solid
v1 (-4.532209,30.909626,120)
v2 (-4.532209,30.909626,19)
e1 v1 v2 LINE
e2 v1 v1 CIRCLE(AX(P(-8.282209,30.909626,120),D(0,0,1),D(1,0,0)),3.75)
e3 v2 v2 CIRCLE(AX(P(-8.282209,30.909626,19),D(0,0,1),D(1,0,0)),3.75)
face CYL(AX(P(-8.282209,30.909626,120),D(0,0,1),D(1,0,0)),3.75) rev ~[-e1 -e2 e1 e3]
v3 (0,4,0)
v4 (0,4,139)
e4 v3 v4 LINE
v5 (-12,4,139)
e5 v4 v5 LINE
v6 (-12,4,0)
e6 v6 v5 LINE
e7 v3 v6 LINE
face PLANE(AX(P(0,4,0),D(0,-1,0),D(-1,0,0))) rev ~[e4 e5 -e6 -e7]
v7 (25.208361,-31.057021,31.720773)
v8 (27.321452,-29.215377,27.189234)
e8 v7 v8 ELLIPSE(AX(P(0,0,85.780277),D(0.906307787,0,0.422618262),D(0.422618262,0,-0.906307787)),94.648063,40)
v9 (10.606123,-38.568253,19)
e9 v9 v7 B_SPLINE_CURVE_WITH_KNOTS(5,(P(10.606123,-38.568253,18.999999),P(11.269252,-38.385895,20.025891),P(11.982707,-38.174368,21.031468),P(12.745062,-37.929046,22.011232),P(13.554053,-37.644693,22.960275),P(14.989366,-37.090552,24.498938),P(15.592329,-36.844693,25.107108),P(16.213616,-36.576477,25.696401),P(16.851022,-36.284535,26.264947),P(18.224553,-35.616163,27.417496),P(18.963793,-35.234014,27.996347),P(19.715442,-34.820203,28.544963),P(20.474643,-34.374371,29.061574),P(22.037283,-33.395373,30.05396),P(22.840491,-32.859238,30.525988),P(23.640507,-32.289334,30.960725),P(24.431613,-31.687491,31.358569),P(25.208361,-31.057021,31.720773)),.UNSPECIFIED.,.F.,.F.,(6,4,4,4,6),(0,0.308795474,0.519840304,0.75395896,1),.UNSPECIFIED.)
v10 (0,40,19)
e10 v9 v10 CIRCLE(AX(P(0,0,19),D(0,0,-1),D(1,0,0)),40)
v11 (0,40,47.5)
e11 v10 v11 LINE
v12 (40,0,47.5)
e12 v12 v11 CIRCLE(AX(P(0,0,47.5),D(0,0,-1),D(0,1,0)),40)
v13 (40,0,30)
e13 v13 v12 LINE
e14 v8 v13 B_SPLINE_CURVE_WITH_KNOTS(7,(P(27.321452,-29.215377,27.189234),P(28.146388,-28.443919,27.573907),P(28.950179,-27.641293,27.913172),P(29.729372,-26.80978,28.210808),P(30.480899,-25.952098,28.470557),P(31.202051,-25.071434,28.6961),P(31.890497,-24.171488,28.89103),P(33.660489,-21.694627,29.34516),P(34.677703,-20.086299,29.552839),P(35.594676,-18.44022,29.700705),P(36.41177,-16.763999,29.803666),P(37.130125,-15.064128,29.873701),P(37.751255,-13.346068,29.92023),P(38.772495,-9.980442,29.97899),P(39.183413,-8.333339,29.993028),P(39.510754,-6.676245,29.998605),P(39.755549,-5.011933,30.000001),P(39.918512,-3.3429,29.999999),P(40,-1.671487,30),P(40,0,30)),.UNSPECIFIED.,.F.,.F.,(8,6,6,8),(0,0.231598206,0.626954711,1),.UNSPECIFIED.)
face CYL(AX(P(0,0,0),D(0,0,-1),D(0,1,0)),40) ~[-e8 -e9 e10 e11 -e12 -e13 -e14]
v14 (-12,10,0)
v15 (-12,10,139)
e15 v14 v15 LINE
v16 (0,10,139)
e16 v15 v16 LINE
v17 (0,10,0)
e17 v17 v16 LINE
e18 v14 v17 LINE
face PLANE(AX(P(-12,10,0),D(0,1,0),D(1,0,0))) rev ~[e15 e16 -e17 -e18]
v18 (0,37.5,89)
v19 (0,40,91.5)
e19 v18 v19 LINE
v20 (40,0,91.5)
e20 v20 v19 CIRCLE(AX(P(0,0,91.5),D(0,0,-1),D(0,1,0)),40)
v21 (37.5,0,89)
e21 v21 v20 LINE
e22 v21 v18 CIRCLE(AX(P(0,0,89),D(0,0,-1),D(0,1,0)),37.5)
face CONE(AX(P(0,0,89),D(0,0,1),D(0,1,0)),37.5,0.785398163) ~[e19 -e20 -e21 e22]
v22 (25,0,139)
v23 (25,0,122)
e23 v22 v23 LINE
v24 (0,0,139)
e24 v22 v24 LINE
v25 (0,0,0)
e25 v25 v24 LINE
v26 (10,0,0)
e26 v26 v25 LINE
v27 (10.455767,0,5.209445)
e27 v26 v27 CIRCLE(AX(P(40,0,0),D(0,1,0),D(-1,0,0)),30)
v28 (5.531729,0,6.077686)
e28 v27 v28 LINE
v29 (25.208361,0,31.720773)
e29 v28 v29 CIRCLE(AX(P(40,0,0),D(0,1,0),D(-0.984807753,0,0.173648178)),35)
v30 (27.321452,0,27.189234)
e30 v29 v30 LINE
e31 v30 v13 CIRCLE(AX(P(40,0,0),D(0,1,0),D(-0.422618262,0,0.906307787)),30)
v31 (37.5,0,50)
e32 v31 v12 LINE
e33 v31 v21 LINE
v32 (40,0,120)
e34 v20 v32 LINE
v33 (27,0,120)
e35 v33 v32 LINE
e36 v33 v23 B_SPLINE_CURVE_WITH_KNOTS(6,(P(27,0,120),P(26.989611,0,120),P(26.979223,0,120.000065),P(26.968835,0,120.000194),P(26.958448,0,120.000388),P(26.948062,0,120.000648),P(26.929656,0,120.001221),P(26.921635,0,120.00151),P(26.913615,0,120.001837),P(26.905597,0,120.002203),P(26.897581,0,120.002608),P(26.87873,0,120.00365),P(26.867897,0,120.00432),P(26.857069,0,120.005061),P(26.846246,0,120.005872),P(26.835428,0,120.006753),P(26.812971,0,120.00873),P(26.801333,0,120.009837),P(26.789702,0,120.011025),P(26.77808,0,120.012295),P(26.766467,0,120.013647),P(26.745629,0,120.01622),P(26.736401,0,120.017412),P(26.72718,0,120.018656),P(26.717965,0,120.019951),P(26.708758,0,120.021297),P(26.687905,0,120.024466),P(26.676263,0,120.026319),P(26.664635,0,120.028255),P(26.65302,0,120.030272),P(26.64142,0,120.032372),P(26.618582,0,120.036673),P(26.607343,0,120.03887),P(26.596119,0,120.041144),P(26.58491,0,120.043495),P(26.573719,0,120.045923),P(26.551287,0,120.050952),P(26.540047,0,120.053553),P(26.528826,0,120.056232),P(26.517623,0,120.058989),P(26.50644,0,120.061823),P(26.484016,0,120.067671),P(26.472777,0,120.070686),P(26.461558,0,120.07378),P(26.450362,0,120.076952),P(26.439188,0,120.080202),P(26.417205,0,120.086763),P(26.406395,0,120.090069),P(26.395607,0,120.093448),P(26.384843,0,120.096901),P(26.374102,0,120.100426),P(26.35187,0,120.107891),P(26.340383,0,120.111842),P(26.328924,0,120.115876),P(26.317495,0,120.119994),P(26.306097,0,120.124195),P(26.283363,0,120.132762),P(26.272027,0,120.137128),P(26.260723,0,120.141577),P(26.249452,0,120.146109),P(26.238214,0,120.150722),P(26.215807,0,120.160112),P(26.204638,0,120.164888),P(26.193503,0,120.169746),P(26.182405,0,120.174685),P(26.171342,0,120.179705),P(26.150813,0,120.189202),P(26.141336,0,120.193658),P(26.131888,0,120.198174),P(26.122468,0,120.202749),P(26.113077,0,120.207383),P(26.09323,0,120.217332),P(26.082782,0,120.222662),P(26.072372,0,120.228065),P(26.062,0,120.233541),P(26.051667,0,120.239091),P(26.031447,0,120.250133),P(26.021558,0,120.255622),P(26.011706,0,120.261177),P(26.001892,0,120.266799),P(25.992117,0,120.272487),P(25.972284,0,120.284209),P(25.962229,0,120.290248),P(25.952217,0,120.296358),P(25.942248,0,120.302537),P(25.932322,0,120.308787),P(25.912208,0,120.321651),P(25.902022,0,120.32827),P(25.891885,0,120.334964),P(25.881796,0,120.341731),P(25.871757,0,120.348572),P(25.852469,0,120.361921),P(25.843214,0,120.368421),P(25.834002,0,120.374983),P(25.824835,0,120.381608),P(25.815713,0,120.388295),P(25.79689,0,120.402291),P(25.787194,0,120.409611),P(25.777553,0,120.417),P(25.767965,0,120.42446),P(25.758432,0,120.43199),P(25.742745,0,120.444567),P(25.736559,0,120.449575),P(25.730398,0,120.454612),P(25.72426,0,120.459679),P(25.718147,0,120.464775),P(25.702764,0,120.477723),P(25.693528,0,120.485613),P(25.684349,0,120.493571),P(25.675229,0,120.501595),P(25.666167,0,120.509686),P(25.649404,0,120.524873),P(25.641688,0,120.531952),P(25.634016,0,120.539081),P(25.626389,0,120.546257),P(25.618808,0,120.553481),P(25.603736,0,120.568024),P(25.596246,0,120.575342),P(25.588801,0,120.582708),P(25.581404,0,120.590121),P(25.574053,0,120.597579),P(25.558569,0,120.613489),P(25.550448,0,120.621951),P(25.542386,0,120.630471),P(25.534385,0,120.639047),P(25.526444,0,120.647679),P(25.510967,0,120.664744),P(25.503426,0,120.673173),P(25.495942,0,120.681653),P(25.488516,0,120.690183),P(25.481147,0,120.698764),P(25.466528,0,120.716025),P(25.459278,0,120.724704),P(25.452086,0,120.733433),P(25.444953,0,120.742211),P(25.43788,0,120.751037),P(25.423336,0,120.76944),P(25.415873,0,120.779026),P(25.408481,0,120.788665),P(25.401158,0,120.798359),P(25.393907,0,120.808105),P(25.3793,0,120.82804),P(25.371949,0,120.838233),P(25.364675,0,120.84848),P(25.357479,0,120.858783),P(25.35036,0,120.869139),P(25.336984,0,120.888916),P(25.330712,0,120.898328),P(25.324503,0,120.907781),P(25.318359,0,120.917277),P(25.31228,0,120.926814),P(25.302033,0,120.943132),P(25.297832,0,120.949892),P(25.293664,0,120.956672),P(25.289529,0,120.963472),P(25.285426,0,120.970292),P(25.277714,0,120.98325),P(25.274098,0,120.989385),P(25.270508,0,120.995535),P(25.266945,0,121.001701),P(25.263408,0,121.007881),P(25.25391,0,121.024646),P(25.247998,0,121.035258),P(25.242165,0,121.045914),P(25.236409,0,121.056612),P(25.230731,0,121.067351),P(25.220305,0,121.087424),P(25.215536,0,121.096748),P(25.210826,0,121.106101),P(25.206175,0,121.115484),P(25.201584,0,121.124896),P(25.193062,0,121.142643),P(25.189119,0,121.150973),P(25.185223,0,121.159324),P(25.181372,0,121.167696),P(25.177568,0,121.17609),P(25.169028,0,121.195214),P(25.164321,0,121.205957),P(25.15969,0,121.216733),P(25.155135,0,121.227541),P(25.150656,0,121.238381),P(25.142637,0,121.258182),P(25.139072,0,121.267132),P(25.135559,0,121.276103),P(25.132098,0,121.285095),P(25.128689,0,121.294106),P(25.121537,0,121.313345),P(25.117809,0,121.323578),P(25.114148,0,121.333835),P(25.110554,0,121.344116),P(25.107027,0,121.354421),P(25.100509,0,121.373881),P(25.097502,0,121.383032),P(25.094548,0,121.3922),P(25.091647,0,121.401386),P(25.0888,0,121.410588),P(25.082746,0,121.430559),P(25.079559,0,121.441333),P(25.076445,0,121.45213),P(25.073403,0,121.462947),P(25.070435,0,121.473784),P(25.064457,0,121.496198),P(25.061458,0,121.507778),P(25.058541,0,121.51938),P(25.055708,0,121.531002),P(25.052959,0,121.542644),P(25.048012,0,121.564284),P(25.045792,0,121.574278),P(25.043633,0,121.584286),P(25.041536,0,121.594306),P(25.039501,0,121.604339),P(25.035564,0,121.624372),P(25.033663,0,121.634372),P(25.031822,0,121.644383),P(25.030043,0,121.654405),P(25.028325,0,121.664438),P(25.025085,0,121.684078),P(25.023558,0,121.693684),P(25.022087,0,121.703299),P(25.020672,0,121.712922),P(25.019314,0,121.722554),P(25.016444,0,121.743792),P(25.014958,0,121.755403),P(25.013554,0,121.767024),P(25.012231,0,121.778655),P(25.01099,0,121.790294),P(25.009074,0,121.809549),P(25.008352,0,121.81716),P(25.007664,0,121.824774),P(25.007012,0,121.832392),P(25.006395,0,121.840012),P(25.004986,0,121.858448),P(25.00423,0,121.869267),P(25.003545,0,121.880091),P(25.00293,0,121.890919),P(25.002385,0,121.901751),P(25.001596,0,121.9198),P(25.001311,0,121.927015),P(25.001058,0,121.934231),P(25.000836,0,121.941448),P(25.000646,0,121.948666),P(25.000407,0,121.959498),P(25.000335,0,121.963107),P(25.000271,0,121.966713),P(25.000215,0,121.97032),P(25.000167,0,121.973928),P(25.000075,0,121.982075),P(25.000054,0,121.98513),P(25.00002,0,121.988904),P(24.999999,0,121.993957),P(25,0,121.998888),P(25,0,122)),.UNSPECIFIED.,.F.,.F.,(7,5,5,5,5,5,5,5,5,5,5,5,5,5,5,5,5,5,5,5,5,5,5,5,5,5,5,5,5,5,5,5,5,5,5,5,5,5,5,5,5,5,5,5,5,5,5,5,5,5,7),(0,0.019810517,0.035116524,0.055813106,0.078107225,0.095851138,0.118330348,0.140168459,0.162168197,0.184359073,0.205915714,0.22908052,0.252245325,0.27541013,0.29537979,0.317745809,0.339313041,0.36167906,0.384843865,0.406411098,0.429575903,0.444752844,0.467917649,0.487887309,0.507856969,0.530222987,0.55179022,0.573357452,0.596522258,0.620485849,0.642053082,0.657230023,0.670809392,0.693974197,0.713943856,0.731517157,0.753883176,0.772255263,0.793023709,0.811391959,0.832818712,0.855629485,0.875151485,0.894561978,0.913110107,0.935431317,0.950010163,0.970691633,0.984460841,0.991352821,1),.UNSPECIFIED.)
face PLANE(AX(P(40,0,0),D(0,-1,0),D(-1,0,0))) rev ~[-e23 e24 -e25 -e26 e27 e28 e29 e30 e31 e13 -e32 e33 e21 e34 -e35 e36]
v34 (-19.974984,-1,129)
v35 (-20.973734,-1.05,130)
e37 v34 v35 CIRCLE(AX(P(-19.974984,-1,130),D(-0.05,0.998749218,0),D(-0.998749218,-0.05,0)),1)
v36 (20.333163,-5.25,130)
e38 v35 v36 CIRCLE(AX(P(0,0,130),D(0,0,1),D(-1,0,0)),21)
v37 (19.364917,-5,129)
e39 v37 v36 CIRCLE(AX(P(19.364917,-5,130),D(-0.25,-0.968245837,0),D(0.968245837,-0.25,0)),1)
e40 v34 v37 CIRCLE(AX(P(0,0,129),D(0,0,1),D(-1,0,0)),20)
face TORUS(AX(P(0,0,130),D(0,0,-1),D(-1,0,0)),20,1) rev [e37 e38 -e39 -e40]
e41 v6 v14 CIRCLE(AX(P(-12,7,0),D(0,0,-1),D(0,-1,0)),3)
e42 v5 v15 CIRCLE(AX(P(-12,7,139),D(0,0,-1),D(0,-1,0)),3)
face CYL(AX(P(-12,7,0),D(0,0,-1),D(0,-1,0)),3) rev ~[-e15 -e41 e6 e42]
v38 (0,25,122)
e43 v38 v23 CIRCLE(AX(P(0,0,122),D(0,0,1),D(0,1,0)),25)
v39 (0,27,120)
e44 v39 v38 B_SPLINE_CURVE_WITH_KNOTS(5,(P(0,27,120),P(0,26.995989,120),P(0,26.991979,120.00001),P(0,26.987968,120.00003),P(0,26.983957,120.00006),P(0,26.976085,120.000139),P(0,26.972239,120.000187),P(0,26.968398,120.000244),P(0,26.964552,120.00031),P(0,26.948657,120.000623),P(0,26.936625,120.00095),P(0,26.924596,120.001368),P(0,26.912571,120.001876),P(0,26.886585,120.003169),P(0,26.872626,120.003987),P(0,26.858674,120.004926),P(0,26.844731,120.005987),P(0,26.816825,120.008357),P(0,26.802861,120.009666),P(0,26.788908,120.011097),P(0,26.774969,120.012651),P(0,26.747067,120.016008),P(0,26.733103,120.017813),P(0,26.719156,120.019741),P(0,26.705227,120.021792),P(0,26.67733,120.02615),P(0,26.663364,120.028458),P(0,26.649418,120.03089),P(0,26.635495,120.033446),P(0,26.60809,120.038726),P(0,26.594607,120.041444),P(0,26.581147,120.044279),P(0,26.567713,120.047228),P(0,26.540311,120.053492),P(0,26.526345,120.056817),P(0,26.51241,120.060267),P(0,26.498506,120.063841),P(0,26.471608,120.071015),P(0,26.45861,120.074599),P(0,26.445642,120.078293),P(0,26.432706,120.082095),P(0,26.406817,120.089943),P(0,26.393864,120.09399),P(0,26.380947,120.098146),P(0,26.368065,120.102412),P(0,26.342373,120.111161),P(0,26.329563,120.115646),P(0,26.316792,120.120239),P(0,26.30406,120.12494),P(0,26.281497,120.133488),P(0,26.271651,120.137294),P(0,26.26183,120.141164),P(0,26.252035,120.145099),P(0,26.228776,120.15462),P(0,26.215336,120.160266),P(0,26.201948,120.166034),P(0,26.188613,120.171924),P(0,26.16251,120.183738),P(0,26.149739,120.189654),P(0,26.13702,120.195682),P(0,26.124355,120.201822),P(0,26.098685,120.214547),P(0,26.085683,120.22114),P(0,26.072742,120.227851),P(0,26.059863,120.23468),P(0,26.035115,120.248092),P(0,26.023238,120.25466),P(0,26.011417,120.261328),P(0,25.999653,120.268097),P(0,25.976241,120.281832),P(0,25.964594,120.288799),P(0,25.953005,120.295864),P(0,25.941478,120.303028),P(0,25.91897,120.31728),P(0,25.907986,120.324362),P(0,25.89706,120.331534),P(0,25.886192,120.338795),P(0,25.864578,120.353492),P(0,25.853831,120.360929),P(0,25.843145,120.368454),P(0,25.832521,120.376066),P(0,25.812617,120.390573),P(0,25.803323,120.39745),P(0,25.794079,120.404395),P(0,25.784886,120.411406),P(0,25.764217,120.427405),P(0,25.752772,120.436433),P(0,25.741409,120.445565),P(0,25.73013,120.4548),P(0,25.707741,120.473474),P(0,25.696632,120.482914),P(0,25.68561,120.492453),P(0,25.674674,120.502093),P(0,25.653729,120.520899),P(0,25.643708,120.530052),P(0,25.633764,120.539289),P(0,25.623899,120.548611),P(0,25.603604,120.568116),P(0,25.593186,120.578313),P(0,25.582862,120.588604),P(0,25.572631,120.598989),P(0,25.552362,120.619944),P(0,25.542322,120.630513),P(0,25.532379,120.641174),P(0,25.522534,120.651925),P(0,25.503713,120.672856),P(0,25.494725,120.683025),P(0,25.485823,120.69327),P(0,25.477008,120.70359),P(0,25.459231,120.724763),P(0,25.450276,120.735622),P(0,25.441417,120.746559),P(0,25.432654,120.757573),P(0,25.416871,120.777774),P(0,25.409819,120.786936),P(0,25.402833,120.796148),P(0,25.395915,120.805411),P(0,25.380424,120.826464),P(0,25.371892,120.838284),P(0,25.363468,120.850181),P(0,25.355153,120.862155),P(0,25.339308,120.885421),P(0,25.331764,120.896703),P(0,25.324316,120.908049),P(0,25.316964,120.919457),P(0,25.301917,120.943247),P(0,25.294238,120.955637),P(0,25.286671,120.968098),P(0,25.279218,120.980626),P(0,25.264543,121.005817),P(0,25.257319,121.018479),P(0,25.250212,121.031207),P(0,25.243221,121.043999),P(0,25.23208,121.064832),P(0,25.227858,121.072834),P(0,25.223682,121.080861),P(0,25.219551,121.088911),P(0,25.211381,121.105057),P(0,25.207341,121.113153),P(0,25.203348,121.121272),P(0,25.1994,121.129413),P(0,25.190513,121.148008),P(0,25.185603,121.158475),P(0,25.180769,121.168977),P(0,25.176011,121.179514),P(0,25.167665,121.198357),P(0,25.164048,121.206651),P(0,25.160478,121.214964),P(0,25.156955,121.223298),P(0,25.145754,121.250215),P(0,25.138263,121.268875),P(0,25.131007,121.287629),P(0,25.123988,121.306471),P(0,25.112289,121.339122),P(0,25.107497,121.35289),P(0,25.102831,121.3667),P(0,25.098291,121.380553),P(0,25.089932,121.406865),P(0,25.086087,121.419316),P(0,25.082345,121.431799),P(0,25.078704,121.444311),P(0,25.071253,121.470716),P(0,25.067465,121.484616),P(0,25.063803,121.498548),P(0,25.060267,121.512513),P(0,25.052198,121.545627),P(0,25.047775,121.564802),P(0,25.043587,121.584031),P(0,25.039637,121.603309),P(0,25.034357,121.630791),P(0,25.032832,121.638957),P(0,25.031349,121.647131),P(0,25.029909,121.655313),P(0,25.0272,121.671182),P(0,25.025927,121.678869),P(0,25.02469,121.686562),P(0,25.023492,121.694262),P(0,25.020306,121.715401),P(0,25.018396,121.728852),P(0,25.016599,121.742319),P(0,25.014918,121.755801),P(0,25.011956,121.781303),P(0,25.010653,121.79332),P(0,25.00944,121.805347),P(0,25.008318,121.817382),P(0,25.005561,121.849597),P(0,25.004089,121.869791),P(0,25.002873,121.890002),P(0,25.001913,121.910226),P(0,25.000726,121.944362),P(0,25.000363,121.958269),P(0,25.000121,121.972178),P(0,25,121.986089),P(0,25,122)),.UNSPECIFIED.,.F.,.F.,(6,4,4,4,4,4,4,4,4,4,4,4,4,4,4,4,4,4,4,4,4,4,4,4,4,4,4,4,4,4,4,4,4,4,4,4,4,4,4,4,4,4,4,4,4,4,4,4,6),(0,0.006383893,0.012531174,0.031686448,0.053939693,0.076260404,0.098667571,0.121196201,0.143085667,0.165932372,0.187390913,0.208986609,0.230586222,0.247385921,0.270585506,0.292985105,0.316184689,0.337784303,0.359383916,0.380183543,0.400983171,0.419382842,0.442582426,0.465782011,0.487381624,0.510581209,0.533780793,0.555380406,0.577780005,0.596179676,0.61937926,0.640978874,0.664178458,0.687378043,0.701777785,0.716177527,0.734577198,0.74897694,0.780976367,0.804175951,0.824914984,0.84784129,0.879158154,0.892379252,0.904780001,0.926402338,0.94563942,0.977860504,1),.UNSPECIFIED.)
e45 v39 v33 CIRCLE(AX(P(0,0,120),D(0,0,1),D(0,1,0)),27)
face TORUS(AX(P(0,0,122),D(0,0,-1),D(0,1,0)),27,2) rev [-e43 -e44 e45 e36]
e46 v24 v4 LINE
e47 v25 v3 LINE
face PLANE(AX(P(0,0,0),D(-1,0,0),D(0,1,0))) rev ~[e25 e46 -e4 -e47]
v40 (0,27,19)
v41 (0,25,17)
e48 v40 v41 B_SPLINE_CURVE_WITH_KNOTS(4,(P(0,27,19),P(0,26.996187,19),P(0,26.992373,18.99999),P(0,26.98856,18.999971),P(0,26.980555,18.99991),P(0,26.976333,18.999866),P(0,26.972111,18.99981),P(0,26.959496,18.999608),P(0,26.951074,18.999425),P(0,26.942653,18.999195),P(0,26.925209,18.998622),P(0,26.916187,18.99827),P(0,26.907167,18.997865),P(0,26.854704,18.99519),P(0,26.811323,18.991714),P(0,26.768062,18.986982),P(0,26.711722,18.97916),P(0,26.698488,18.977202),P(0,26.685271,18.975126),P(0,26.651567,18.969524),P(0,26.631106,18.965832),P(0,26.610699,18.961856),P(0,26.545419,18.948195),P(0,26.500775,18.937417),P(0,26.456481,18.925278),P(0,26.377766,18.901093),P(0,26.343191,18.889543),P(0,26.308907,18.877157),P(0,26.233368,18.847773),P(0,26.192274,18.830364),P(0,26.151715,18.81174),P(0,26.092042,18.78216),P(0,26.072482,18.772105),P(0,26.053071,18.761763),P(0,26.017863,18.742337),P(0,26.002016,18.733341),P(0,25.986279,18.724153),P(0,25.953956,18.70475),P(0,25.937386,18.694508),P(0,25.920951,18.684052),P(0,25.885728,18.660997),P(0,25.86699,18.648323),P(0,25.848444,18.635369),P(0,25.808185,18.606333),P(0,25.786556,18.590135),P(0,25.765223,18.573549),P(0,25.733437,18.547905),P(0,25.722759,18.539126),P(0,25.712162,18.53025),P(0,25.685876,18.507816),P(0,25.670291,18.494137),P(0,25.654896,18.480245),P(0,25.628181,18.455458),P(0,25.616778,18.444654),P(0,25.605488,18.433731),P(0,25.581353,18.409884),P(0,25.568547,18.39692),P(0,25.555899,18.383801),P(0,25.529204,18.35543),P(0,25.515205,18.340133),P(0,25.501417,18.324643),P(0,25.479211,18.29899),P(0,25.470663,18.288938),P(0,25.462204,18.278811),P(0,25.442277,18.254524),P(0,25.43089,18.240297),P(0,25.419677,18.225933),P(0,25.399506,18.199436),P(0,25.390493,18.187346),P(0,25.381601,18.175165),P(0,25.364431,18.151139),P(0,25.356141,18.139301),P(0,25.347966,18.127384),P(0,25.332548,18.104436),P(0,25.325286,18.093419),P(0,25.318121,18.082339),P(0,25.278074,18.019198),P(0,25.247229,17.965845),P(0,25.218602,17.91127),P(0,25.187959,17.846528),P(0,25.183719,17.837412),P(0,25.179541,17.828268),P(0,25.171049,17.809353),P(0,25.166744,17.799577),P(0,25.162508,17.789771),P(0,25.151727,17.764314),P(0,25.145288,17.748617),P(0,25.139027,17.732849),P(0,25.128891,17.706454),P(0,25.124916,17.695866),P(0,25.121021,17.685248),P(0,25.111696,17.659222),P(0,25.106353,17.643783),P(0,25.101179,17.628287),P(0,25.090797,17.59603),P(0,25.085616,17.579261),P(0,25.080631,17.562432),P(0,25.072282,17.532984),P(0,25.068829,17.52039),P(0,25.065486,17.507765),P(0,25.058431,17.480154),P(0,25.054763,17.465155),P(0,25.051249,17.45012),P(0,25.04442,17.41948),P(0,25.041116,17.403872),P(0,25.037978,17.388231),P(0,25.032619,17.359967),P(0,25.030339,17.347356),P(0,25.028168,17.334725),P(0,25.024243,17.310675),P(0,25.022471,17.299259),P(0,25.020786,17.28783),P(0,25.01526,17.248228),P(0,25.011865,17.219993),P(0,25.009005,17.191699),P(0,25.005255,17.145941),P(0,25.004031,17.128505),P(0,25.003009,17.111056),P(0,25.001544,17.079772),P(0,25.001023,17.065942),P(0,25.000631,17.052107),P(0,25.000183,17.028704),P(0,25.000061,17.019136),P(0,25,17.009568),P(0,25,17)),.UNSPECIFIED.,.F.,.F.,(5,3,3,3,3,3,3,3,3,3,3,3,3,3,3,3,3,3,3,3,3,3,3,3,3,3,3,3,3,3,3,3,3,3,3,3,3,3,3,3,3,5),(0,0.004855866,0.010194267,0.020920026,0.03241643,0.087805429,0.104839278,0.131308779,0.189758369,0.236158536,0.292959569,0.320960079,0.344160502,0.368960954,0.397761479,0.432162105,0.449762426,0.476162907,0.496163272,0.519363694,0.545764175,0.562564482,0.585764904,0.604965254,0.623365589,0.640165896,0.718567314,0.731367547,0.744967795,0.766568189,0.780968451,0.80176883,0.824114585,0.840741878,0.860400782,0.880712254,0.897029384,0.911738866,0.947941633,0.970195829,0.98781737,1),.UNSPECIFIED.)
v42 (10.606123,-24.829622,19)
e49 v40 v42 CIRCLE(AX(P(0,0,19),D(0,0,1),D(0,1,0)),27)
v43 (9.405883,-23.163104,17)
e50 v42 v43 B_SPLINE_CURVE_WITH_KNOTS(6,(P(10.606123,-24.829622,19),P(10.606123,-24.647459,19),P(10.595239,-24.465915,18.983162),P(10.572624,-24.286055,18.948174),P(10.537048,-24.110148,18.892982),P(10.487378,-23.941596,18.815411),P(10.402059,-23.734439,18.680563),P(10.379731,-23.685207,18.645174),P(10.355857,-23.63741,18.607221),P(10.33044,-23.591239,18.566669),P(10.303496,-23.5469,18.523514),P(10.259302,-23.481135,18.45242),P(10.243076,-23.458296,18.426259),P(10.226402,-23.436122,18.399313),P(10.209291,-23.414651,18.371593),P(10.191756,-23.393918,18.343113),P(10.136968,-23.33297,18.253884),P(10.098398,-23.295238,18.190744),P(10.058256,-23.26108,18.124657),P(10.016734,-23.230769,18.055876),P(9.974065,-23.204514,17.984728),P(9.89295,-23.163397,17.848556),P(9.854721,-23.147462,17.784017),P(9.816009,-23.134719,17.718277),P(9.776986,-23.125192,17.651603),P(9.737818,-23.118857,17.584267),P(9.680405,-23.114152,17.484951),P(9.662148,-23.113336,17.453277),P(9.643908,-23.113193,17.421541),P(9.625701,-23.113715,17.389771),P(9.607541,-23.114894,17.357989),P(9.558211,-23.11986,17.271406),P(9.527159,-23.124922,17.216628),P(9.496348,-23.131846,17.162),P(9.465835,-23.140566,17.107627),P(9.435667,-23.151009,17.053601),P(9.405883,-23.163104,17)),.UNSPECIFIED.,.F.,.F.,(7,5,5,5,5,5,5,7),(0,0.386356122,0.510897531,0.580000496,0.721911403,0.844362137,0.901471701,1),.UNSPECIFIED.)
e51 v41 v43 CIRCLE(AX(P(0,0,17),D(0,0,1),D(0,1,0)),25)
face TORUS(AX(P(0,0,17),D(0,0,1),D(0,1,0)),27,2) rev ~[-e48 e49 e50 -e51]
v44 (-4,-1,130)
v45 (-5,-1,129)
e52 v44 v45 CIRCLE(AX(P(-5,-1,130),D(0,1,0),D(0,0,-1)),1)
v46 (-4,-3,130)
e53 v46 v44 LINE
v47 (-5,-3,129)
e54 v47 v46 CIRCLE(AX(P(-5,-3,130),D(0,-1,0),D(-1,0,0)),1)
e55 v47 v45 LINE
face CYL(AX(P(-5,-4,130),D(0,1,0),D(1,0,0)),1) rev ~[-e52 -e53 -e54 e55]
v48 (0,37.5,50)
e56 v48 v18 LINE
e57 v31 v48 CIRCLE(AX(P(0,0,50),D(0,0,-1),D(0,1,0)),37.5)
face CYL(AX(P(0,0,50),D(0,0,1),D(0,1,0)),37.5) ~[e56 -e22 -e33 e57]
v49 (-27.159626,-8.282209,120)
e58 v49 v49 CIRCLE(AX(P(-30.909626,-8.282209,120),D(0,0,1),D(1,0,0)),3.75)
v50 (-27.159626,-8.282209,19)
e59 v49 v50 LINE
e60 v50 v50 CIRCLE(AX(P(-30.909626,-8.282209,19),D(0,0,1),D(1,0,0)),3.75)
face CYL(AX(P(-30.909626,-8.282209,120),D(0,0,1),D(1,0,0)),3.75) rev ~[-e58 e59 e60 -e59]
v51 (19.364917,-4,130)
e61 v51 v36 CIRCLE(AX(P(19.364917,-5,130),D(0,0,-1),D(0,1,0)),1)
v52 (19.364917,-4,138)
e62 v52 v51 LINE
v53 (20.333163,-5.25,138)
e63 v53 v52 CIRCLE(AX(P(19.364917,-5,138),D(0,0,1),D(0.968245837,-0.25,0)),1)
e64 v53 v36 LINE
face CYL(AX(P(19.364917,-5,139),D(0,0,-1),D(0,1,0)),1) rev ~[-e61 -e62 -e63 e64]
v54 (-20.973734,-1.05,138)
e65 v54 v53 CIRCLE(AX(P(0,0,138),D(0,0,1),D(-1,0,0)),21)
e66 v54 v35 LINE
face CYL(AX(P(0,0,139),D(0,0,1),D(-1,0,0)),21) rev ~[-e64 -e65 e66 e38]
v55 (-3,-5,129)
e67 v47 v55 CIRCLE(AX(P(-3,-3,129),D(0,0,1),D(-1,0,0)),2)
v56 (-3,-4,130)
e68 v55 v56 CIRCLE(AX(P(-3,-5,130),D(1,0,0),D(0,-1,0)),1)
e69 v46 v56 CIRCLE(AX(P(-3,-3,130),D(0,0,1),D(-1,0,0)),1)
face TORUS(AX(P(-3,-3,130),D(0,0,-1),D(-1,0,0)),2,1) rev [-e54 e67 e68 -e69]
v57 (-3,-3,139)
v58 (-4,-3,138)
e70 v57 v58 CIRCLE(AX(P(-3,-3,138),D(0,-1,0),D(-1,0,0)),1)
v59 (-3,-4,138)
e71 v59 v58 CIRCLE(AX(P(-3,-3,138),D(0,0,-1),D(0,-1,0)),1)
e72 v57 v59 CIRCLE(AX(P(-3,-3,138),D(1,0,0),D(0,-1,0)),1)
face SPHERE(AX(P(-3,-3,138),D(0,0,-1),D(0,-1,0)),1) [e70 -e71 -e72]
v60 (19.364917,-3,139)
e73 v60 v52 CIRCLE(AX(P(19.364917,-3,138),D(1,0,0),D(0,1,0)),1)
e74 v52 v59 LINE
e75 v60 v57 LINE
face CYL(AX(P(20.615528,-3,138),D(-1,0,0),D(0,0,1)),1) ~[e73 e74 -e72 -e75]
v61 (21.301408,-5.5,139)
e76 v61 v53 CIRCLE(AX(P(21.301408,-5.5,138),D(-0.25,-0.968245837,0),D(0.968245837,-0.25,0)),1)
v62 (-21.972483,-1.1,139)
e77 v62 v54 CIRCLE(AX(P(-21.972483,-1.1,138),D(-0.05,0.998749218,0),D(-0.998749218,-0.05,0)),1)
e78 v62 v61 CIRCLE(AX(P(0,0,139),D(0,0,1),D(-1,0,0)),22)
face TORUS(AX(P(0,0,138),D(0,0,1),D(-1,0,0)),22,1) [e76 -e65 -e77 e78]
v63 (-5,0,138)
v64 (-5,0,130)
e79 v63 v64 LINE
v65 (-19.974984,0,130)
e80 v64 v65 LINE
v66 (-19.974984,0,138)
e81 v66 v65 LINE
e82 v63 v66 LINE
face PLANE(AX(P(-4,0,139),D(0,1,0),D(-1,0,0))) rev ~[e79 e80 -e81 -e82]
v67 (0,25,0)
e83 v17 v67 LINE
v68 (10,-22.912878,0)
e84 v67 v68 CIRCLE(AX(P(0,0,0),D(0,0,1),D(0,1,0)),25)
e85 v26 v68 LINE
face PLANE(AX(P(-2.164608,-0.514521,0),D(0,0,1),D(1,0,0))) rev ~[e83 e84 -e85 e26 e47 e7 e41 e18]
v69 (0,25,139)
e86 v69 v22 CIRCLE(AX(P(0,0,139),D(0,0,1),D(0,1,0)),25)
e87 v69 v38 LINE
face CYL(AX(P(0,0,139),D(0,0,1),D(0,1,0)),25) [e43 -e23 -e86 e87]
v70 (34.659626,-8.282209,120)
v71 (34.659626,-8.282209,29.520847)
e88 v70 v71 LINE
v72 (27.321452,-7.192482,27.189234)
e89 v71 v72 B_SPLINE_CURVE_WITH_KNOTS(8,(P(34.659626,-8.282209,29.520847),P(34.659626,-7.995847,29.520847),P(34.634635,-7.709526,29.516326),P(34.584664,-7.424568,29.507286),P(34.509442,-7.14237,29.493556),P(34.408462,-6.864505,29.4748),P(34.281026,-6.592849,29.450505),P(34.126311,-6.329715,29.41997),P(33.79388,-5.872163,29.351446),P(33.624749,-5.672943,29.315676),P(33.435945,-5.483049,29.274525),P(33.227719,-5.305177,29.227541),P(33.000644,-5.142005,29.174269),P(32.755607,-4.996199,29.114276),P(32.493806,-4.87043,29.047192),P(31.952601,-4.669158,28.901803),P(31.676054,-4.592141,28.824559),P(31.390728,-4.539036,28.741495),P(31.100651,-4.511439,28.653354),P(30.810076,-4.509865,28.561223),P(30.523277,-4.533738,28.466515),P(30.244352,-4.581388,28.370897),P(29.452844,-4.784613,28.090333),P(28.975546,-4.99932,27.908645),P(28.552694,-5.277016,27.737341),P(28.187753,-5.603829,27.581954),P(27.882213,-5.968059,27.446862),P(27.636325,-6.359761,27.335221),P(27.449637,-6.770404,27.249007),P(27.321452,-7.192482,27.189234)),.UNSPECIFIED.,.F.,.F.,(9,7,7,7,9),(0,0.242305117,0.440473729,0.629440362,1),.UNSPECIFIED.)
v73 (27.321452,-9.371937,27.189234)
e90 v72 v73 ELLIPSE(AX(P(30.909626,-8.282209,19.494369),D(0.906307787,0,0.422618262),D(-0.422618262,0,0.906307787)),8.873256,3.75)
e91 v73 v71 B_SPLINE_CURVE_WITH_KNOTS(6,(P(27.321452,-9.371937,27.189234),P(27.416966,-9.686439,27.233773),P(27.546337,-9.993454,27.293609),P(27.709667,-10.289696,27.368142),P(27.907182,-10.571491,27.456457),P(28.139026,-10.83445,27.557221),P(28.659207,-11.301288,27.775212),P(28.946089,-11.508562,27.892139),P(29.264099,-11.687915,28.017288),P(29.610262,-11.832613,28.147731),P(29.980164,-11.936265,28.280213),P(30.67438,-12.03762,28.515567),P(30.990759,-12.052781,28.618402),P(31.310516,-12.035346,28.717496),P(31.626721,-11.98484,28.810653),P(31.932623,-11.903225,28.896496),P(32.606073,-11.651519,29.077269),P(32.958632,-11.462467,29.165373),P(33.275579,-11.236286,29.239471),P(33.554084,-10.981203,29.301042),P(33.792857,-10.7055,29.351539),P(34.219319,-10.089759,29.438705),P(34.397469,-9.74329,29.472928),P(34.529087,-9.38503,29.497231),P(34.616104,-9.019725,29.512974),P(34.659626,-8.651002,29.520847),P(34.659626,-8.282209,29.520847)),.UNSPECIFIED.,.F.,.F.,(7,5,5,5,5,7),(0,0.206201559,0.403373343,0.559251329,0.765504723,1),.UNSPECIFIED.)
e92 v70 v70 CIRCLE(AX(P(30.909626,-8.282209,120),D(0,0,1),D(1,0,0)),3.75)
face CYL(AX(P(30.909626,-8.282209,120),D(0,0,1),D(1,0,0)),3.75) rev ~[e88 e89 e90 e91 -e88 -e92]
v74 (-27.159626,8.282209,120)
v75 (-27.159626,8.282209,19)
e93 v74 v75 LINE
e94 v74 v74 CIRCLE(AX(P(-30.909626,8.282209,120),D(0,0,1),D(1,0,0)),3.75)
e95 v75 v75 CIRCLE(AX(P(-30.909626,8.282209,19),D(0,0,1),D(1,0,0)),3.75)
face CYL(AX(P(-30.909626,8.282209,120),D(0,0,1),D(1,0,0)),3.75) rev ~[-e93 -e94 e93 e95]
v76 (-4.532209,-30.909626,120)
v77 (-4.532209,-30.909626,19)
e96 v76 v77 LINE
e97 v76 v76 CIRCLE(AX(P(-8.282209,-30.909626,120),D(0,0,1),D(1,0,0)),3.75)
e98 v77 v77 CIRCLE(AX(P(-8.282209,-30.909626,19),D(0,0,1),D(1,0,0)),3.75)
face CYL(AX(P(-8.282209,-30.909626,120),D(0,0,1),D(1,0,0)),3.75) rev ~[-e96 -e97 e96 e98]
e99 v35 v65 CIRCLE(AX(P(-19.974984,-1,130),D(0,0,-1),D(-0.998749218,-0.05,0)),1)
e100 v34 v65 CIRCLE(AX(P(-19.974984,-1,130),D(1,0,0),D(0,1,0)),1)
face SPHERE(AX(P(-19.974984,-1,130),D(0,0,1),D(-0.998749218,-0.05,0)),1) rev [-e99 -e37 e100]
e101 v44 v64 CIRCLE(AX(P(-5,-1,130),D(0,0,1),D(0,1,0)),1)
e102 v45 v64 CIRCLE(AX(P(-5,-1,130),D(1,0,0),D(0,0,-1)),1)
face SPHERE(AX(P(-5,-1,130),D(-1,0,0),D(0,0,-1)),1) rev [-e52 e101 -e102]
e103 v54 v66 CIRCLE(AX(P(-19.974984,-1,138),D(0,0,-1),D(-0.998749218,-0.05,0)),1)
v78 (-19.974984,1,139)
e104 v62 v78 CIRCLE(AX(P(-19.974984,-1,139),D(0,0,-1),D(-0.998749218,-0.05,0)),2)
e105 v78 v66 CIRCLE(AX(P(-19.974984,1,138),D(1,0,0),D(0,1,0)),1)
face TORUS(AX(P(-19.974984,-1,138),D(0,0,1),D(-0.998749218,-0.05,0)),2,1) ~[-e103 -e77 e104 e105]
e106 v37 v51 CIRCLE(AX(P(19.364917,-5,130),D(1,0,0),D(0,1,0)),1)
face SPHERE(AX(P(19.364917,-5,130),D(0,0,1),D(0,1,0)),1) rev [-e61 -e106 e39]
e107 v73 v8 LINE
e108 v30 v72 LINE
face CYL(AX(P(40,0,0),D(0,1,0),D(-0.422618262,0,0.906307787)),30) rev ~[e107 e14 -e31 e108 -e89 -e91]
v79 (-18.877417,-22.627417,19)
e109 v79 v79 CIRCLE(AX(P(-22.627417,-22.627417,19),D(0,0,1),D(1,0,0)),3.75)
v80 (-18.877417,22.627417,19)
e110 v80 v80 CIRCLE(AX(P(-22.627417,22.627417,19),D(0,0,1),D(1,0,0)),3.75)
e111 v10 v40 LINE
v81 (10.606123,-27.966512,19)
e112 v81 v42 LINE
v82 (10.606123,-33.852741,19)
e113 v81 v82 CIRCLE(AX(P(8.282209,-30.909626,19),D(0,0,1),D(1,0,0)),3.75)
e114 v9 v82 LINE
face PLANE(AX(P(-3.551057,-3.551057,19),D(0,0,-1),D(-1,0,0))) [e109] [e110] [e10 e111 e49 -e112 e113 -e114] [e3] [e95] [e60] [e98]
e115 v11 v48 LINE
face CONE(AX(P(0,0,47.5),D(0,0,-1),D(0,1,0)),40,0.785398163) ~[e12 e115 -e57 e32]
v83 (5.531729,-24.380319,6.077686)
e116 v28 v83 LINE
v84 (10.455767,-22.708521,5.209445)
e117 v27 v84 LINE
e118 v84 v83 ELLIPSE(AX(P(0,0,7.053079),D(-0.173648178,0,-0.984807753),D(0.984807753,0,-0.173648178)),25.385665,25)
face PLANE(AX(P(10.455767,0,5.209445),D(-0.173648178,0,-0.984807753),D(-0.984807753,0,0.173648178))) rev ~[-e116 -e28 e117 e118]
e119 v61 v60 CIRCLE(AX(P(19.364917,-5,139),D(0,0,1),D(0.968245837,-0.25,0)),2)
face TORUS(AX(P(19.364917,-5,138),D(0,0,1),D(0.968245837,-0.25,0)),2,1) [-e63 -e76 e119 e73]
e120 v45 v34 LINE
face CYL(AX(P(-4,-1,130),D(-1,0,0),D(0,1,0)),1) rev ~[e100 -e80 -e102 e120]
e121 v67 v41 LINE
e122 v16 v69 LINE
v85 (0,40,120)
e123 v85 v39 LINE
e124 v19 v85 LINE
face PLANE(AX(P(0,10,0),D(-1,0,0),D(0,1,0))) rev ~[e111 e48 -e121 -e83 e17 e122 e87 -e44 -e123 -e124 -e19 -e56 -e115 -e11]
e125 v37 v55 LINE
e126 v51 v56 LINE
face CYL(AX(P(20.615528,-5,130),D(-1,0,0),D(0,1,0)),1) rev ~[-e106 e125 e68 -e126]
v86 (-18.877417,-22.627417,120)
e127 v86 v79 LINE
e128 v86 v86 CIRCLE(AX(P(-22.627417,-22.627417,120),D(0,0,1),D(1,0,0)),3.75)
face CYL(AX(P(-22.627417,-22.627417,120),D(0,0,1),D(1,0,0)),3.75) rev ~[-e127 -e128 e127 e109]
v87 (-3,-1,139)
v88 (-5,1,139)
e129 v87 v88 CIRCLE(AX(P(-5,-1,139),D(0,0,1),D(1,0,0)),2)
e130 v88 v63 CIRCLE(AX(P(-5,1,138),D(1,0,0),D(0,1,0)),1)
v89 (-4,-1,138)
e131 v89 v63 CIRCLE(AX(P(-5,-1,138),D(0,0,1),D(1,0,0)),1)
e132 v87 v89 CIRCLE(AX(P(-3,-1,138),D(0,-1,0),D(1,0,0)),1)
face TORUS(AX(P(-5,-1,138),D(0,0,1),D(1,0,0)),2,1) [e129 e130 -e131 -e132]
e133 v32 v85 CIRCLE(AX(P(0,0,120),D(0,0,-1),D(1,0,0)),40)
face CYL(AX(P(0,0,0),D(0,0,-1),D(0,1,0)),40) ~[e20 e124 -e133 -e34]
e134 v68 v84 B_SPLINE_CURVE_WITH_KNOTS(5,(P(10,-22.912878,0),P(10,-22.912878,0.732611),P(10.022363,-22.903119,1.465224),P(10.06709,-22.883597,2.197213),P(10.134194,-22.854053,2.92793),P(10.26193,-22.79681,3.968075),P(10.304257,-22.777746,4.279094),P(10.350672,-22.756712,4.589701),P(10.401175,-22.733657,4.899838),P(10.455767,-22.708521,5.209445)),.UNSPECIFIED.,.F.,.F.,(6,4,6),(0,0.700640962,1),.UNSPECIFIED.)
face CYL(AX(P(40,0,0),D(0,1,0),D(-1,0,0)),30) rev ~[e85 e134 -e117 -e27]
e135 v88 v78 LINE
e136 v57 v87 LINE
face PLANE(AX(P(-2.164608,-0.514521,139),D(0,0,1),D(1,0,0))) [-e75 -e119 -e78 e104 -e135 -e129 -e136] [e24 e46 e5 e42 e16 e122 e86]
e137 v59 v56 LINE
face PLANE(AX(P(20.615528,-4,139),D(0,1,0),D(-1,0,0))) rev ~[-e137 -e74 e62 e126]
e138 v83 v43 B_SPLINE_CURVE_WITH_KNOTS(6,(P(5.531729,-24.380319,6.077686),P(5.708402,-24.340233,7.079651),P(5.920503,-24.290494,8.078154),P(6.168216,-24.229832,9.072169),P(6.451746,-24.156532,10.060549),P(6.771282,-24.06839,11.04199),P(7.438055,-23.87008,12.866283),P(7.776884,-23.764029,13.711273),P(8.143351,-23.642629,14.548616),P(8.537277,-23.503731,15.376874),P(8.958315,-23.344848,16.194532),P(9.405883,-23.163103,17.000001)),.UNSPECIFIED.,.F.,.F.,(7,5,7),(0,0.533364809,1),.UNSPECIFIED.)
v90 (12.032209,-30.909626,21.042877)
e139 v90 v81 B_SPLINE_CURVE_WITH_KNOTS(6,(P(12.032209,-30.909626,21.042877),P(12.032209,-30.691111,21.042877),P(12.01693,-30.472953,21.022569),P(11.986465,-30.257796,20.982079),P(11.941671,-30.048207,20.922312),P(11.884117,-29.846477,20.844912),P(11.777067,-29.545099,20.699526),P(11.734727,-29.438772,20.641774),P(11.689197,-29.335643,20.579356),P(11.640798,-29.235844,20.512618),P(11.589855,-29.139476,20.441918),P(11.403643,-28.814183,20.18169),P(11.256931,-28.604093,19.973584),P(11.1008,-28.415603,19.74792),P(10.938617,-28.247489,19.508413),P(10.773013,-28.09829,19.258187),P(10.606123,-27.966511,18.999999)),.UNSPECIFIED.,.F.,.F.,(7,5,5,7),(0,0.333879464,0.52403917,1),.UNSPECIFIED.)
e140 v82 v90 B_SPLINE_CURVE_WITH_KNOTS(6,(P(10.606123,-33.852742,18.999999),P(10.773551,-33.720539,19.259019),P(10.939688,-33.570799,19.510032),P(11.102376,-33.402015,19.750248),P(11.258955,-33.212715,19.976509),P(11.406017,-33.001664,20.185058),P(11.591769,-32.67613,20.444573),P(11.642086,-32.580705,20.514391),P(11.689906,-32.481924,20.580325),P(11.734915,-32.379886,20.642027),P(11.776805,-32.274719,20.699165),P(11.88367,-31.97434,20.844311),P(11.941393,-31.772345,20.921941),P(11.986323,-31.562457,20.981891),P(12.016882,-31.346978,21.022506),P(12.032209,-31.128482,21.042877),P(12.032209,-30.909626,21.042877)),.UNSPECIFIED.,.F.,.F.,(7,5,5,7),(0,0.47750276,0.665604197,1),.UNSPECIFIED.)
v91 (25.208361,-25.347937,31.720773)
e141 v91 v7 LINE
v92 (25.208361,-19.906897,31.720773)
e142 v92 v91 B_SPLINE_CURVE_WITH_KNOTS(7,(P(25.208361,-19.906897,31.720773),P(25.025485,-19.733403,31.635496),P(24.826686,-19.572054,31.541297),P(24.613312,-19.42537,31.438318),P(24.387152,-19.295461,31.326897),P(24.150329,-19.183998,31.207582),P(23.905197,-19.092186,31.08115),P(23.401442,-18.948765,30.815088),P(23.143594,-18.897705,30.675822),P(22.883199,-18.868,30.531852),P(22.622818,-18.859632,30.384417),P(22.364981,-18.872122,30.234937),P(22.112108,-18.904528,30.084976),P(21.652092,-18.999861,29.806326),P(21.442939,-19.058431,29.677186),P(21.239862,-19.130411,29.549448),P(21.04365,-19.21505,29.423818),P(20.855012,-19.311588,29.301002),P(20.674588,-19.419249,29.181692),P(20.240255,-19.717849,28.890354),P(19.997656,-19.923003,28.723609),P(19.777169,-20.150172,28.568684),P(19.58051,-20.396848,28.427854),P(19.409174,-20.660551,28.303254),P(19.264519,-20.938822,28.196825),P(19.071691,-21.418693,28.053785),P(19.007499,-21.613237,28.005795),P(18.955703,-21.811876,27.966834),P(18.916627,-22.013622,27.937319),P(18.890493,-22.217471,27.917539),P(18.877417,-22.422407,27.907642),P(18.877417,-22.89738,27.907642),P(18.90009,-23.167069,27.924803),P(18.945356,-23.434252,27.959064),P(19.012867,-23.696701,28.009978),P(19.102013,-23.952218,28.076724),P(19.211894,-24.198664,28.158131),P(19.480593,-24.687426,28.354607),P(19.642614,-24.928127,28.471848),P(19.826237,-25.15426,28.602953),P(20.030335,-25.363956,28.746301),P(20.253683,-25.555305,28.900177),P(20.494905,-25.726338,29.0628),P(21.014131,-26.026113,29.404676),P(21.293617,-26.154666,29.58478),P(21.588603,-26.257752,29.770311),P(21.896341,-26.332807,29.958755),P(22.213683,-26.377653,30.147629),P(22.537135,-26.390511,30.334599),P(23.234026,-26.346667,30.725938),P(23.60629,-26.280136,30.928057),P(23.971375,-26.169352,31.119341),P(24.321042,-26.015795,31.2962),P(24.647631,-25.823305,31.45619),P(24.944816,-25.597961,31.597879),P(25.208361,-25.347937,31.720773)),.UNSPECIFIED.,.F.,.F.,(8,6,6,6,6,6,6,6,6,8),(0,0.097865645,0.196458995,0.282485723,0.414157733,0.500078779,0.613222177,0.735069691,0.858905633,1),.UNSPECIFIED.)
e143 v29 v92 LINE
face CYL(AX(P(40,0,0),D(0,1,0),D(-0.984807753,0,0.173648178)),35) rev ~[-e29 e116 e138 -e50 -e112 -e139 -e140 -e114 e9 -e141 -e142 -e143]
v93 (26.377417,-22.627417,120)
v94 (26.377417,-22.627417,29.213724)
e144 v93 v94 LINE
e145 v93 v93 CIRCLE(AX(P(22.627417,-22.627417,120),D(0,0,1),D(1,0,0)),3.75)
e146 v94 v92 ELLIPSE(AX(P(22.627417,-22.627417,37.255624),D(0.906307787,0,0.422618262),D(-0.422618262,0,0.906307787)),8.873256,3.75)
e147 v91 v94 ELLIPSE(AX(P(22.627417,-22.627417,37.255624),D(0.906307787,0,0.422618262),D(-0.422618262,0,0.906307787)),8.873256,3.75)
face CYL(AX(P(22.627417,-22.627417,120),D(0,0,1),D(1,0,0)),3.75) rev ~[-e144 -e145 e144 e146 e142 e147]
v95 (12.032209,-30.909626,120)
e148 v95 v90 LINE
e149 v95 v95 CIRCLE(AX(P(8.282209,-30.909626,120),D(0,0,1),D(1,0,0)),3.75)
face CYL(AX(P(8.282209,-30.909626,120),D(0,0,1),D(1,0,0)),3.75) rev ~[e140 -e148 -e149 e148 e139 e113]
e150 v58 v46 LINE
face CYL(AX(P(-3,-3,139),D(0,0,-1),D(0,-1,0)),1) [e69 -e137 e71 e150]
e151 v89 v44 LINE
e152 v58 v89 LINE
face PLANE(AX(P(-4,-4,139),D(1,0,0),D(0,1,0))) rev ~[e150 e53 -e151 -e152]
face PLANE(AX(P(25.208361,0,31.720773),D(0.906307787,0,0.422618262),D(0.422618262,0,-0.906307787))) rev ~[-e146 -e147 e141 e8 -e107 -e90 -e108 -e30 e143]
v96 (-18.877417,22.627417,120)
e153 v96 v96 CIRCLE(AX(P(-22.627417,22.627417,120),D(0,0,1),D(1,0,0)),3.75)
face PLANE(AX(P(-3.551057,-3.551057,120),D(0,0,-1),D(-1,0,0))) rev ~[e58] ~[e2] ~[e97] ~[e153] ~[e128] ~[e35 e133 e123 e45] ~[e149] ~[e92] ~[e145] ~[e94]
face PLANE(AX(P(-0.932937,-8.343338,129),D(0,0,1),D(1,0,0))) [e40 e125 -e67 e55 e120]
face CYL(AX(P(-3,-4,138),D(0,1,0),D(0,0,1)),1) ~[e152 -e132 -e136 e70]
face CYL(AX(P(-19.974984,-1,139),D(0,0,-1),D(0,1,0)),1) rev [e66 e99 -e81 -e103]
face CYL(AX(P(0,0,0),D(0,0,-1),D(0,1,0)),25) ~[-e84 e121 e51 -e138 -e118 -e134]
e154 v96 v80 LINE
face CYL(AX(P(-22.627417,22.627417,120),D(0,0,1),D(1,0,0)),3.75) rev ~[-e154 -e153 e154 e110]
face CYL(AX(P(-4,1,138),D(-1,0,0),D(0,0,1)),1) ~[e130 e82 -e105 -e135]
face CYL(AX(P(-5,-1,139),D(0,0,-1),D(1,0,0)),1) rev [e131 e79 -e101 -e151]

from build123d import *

# Parameters (mm, degrees)
BOSS_EXTRUDE7_DEPTH = 139
CUT_EXTRUDE1_DEPTH  = 19
CUT_EXTRUDE2_DEPTH  = 19
FILLET5_R           = 2
FILLET6_R           = 2
SKETCH11_R          = 3.75
CUT_EXTRUDE3_DEPTH  = 121
CUT_EXTRUDE4_DEPTH  = 41
CUT_EXTRUDE5_DEPTH  = 10
FILLET7_R           = 1


with BuildPart() as part:
    # Sketch1 → Boss-Extrude7 (new body)
    with BuildSketch(Plane.XY):
        with BuildLine():
            Line((0, 10), (0, 40))
            ThreePointArc((0, 40), (-28.284271247, -28.284271247), (40, 0))
            Line((40, 0), (0, 0))
            Line((0, 0), (0, 4))
            Line((0, 4), (-12, 4))
            ThreePointArc((-12, 4), (-15, 7), (-12, 10))
            Line((-12, 10), (0, 10))
        make_face()
    extrude(amount=BOSS_EXTRUDE7_DEPTH)

    # Sketch8 → Cut-Extrude1 (cut)
    with BuildSketch(Plane.XY.offset(139)):
        with BuildLine():
            Line((25, 0), (40, 0))
            ThreePointArc((40, 0), (-28.284271247, -28.284271247), (0, 40))
            Line((0, 40), (0, 25))
            ThreePointArc((0, 25), (-17.67766953, -17.67766953), (25, 0))
        make_face()
    extrude(amount=-CUT_EXTRUDE1_DEPTH, mode=Mode.SUBTRACT)

    # Sketch9 → Cut-Extrude2 (cut)
    with BuildSketch(Plane(origin=(0, 0, 0), x_dir=(-1, 0, 0), z_dir=(0, 0, -1))):
        with BuildLine():
            Line((-25, 0), (-40, 0))
            ThreePointArc((-40, 0), (28.284271247, -28.284271247), (0, 40))
            Line((0, 40), (0, 25))
            ThreePointArc((0, 25), (17.67766953, -17.67766953), (-25, 0))
        make_face()
    extrude(amount=-CUT_EXTRUDE2_DEPTH, mode=Mode.SUBTRACT)

    # Fillet5
    fillet5_edges = [part.edges().sort_by_distance(p)[0] for p in [
        (-17.67766953, -17.67766953, 120),
    ]]
    fillet(fillet5_edges, radius=FILLET5_R)

    # Fillet6
    fillet6_edges = [part.edges().sort_by_distance(p)[0] for p in [
        (-17.67766953, -17.67766953, 19),
    ]]
    fillet(fillet6_edges, radius=FILLET6_R)

    # Sketch10 → Cut-Revolve6 (revolve, cut)
    with BuildSketch(Plane(origin=(0, 0, 0), x_dir=(0, 0, -1), z_dir=(1, 0, 0))):
        Polygon((-47.5, 40), (-50, 37.5), (-89, 37.5), (-91.5, 40), align=None)
    revolve(axis=Axis((0, 0, 139), (0, 0, -1)), mode=Mode.SUBTRACT)

    # Sketch11 → Cut-Extrude3 (cut, through all)
    with BuildSketch(Plane.XY.offset(120)):
        with Locations((-8.282209443, 30.909626441)):
            Circle(SKETCH11_R)
        with Locations((30.909626441, -8.282209443)):
            Circle(SKETCH11_R)
        with Locations((22.627416998, -22.627416998)):
            Circle(SKETCH11_R)
        with Locations((8.282209443, -30.909626441)):
            Circle(SKETCH11_R)
        with Locations((-8.282209443, -30.909626441)):
            Circle(SKETCH11_R)
        with Locations((-22.627416998, -22.627416998)):
            Circle(SKETCH11_R)
        with Locations((-30.909626441, -8.282209443)):
            Circle(SKETCH11_R)
        with Locations((-30.909626441, 8.282209443)):
            Circle(SKETCH11_R)
        with Locations((-22.627416998, 22.627416998)):
            Circle(SKETCH11_R)
    extrude(amount=-CUT_EXTRUDE3_DEPTH, mode=Mode.SUBTRACT)

    # Sketch12 → Cut-Extrude4 (cut, through all)
    with BuildSketch(Plane(origin=(0, 0, 0), x_dir=(1, 0, 0), z_dir=(0, 1, 0))):
        with BuildLine():
            Line((25, -17), (25, 0))
            Line((25, 0), (10, 0))
            ThreePointArc((10, 0), (10.114159057, -2.614672282), (10.45576741, -5.20944533))
            ThreePointArc((10.45576741, -5.20944533), (16.199399791, -18.26284287), (27.321452148, -27.189233611))
            ThreePointArc((27.321452148, -27.189233611), (33.506811582, -29.288880214), (40, -30))
            Line((40, -30), (40, -19))
            Line((40, -19), (27, -19))
            ThreePointArc((27, -19), (25.585786438, -18.414213562), (25, -17))
        make_face()
        with BuildLine():
            ThreePointArc((27.321452148, -27.189233611), (16.199399791, -18.26284287), (10.45576741, -5.20944533))
            Line((10.45576741, -5.20944533), (5.531728645, -6.077686218))
            ThreePointArc((5.531728645, -6.077686218), (12.23263309, -21.306650015), (25.208360839, -31.720772546))
            Line((25.208360839, -31.720772546), (27.321452148, -27.189233611))
        make_face()
    extrude(amount=-CUT_EXTRUDE4_DEPTH, mode=Mode.SUBTRACT)

    # Sketch16 → Cut-Extrude5 (cut)
    with BuildSketch(Plane.XY.offset(139)):
        with BuildLine():
            Line((20.615528128, -4), (-4, -4))
            Line((-4, -4), (-4, 0))
            Line((-4, 0), (-21, 0))
            ThreePointArc((-21, 0), (-2.009217424, -20.903661051), (20.615528128, -4))
        make_face()
    extrude(amount=-CUT_EXTRUDE5_DEPTH, mode=Mode.SUBTRACT)

    # Fillet7
    fillet7_edges = [part.edges().sort_by_distance(p)[0] for p in [
        (-2.009217424, -20.903661051, 129),
        (20.615528128, -4, 134),
        (-12.5, 0, 129),
        (-21, 0, 134),
        (-4, -2, 129),
        (-4, 0, 134),
        (8.307764064, -4, 129),
        (-4, -4, 134),
        (-2.009217424, -20.903661051, 139),
        (8.307764064, -4, 139),
        (-4, -2, 139),
        (-12.5, 0, 139),
    ]]
    fillet(fillet7_edges, radius=FILLET7_R)


solid = part.part
